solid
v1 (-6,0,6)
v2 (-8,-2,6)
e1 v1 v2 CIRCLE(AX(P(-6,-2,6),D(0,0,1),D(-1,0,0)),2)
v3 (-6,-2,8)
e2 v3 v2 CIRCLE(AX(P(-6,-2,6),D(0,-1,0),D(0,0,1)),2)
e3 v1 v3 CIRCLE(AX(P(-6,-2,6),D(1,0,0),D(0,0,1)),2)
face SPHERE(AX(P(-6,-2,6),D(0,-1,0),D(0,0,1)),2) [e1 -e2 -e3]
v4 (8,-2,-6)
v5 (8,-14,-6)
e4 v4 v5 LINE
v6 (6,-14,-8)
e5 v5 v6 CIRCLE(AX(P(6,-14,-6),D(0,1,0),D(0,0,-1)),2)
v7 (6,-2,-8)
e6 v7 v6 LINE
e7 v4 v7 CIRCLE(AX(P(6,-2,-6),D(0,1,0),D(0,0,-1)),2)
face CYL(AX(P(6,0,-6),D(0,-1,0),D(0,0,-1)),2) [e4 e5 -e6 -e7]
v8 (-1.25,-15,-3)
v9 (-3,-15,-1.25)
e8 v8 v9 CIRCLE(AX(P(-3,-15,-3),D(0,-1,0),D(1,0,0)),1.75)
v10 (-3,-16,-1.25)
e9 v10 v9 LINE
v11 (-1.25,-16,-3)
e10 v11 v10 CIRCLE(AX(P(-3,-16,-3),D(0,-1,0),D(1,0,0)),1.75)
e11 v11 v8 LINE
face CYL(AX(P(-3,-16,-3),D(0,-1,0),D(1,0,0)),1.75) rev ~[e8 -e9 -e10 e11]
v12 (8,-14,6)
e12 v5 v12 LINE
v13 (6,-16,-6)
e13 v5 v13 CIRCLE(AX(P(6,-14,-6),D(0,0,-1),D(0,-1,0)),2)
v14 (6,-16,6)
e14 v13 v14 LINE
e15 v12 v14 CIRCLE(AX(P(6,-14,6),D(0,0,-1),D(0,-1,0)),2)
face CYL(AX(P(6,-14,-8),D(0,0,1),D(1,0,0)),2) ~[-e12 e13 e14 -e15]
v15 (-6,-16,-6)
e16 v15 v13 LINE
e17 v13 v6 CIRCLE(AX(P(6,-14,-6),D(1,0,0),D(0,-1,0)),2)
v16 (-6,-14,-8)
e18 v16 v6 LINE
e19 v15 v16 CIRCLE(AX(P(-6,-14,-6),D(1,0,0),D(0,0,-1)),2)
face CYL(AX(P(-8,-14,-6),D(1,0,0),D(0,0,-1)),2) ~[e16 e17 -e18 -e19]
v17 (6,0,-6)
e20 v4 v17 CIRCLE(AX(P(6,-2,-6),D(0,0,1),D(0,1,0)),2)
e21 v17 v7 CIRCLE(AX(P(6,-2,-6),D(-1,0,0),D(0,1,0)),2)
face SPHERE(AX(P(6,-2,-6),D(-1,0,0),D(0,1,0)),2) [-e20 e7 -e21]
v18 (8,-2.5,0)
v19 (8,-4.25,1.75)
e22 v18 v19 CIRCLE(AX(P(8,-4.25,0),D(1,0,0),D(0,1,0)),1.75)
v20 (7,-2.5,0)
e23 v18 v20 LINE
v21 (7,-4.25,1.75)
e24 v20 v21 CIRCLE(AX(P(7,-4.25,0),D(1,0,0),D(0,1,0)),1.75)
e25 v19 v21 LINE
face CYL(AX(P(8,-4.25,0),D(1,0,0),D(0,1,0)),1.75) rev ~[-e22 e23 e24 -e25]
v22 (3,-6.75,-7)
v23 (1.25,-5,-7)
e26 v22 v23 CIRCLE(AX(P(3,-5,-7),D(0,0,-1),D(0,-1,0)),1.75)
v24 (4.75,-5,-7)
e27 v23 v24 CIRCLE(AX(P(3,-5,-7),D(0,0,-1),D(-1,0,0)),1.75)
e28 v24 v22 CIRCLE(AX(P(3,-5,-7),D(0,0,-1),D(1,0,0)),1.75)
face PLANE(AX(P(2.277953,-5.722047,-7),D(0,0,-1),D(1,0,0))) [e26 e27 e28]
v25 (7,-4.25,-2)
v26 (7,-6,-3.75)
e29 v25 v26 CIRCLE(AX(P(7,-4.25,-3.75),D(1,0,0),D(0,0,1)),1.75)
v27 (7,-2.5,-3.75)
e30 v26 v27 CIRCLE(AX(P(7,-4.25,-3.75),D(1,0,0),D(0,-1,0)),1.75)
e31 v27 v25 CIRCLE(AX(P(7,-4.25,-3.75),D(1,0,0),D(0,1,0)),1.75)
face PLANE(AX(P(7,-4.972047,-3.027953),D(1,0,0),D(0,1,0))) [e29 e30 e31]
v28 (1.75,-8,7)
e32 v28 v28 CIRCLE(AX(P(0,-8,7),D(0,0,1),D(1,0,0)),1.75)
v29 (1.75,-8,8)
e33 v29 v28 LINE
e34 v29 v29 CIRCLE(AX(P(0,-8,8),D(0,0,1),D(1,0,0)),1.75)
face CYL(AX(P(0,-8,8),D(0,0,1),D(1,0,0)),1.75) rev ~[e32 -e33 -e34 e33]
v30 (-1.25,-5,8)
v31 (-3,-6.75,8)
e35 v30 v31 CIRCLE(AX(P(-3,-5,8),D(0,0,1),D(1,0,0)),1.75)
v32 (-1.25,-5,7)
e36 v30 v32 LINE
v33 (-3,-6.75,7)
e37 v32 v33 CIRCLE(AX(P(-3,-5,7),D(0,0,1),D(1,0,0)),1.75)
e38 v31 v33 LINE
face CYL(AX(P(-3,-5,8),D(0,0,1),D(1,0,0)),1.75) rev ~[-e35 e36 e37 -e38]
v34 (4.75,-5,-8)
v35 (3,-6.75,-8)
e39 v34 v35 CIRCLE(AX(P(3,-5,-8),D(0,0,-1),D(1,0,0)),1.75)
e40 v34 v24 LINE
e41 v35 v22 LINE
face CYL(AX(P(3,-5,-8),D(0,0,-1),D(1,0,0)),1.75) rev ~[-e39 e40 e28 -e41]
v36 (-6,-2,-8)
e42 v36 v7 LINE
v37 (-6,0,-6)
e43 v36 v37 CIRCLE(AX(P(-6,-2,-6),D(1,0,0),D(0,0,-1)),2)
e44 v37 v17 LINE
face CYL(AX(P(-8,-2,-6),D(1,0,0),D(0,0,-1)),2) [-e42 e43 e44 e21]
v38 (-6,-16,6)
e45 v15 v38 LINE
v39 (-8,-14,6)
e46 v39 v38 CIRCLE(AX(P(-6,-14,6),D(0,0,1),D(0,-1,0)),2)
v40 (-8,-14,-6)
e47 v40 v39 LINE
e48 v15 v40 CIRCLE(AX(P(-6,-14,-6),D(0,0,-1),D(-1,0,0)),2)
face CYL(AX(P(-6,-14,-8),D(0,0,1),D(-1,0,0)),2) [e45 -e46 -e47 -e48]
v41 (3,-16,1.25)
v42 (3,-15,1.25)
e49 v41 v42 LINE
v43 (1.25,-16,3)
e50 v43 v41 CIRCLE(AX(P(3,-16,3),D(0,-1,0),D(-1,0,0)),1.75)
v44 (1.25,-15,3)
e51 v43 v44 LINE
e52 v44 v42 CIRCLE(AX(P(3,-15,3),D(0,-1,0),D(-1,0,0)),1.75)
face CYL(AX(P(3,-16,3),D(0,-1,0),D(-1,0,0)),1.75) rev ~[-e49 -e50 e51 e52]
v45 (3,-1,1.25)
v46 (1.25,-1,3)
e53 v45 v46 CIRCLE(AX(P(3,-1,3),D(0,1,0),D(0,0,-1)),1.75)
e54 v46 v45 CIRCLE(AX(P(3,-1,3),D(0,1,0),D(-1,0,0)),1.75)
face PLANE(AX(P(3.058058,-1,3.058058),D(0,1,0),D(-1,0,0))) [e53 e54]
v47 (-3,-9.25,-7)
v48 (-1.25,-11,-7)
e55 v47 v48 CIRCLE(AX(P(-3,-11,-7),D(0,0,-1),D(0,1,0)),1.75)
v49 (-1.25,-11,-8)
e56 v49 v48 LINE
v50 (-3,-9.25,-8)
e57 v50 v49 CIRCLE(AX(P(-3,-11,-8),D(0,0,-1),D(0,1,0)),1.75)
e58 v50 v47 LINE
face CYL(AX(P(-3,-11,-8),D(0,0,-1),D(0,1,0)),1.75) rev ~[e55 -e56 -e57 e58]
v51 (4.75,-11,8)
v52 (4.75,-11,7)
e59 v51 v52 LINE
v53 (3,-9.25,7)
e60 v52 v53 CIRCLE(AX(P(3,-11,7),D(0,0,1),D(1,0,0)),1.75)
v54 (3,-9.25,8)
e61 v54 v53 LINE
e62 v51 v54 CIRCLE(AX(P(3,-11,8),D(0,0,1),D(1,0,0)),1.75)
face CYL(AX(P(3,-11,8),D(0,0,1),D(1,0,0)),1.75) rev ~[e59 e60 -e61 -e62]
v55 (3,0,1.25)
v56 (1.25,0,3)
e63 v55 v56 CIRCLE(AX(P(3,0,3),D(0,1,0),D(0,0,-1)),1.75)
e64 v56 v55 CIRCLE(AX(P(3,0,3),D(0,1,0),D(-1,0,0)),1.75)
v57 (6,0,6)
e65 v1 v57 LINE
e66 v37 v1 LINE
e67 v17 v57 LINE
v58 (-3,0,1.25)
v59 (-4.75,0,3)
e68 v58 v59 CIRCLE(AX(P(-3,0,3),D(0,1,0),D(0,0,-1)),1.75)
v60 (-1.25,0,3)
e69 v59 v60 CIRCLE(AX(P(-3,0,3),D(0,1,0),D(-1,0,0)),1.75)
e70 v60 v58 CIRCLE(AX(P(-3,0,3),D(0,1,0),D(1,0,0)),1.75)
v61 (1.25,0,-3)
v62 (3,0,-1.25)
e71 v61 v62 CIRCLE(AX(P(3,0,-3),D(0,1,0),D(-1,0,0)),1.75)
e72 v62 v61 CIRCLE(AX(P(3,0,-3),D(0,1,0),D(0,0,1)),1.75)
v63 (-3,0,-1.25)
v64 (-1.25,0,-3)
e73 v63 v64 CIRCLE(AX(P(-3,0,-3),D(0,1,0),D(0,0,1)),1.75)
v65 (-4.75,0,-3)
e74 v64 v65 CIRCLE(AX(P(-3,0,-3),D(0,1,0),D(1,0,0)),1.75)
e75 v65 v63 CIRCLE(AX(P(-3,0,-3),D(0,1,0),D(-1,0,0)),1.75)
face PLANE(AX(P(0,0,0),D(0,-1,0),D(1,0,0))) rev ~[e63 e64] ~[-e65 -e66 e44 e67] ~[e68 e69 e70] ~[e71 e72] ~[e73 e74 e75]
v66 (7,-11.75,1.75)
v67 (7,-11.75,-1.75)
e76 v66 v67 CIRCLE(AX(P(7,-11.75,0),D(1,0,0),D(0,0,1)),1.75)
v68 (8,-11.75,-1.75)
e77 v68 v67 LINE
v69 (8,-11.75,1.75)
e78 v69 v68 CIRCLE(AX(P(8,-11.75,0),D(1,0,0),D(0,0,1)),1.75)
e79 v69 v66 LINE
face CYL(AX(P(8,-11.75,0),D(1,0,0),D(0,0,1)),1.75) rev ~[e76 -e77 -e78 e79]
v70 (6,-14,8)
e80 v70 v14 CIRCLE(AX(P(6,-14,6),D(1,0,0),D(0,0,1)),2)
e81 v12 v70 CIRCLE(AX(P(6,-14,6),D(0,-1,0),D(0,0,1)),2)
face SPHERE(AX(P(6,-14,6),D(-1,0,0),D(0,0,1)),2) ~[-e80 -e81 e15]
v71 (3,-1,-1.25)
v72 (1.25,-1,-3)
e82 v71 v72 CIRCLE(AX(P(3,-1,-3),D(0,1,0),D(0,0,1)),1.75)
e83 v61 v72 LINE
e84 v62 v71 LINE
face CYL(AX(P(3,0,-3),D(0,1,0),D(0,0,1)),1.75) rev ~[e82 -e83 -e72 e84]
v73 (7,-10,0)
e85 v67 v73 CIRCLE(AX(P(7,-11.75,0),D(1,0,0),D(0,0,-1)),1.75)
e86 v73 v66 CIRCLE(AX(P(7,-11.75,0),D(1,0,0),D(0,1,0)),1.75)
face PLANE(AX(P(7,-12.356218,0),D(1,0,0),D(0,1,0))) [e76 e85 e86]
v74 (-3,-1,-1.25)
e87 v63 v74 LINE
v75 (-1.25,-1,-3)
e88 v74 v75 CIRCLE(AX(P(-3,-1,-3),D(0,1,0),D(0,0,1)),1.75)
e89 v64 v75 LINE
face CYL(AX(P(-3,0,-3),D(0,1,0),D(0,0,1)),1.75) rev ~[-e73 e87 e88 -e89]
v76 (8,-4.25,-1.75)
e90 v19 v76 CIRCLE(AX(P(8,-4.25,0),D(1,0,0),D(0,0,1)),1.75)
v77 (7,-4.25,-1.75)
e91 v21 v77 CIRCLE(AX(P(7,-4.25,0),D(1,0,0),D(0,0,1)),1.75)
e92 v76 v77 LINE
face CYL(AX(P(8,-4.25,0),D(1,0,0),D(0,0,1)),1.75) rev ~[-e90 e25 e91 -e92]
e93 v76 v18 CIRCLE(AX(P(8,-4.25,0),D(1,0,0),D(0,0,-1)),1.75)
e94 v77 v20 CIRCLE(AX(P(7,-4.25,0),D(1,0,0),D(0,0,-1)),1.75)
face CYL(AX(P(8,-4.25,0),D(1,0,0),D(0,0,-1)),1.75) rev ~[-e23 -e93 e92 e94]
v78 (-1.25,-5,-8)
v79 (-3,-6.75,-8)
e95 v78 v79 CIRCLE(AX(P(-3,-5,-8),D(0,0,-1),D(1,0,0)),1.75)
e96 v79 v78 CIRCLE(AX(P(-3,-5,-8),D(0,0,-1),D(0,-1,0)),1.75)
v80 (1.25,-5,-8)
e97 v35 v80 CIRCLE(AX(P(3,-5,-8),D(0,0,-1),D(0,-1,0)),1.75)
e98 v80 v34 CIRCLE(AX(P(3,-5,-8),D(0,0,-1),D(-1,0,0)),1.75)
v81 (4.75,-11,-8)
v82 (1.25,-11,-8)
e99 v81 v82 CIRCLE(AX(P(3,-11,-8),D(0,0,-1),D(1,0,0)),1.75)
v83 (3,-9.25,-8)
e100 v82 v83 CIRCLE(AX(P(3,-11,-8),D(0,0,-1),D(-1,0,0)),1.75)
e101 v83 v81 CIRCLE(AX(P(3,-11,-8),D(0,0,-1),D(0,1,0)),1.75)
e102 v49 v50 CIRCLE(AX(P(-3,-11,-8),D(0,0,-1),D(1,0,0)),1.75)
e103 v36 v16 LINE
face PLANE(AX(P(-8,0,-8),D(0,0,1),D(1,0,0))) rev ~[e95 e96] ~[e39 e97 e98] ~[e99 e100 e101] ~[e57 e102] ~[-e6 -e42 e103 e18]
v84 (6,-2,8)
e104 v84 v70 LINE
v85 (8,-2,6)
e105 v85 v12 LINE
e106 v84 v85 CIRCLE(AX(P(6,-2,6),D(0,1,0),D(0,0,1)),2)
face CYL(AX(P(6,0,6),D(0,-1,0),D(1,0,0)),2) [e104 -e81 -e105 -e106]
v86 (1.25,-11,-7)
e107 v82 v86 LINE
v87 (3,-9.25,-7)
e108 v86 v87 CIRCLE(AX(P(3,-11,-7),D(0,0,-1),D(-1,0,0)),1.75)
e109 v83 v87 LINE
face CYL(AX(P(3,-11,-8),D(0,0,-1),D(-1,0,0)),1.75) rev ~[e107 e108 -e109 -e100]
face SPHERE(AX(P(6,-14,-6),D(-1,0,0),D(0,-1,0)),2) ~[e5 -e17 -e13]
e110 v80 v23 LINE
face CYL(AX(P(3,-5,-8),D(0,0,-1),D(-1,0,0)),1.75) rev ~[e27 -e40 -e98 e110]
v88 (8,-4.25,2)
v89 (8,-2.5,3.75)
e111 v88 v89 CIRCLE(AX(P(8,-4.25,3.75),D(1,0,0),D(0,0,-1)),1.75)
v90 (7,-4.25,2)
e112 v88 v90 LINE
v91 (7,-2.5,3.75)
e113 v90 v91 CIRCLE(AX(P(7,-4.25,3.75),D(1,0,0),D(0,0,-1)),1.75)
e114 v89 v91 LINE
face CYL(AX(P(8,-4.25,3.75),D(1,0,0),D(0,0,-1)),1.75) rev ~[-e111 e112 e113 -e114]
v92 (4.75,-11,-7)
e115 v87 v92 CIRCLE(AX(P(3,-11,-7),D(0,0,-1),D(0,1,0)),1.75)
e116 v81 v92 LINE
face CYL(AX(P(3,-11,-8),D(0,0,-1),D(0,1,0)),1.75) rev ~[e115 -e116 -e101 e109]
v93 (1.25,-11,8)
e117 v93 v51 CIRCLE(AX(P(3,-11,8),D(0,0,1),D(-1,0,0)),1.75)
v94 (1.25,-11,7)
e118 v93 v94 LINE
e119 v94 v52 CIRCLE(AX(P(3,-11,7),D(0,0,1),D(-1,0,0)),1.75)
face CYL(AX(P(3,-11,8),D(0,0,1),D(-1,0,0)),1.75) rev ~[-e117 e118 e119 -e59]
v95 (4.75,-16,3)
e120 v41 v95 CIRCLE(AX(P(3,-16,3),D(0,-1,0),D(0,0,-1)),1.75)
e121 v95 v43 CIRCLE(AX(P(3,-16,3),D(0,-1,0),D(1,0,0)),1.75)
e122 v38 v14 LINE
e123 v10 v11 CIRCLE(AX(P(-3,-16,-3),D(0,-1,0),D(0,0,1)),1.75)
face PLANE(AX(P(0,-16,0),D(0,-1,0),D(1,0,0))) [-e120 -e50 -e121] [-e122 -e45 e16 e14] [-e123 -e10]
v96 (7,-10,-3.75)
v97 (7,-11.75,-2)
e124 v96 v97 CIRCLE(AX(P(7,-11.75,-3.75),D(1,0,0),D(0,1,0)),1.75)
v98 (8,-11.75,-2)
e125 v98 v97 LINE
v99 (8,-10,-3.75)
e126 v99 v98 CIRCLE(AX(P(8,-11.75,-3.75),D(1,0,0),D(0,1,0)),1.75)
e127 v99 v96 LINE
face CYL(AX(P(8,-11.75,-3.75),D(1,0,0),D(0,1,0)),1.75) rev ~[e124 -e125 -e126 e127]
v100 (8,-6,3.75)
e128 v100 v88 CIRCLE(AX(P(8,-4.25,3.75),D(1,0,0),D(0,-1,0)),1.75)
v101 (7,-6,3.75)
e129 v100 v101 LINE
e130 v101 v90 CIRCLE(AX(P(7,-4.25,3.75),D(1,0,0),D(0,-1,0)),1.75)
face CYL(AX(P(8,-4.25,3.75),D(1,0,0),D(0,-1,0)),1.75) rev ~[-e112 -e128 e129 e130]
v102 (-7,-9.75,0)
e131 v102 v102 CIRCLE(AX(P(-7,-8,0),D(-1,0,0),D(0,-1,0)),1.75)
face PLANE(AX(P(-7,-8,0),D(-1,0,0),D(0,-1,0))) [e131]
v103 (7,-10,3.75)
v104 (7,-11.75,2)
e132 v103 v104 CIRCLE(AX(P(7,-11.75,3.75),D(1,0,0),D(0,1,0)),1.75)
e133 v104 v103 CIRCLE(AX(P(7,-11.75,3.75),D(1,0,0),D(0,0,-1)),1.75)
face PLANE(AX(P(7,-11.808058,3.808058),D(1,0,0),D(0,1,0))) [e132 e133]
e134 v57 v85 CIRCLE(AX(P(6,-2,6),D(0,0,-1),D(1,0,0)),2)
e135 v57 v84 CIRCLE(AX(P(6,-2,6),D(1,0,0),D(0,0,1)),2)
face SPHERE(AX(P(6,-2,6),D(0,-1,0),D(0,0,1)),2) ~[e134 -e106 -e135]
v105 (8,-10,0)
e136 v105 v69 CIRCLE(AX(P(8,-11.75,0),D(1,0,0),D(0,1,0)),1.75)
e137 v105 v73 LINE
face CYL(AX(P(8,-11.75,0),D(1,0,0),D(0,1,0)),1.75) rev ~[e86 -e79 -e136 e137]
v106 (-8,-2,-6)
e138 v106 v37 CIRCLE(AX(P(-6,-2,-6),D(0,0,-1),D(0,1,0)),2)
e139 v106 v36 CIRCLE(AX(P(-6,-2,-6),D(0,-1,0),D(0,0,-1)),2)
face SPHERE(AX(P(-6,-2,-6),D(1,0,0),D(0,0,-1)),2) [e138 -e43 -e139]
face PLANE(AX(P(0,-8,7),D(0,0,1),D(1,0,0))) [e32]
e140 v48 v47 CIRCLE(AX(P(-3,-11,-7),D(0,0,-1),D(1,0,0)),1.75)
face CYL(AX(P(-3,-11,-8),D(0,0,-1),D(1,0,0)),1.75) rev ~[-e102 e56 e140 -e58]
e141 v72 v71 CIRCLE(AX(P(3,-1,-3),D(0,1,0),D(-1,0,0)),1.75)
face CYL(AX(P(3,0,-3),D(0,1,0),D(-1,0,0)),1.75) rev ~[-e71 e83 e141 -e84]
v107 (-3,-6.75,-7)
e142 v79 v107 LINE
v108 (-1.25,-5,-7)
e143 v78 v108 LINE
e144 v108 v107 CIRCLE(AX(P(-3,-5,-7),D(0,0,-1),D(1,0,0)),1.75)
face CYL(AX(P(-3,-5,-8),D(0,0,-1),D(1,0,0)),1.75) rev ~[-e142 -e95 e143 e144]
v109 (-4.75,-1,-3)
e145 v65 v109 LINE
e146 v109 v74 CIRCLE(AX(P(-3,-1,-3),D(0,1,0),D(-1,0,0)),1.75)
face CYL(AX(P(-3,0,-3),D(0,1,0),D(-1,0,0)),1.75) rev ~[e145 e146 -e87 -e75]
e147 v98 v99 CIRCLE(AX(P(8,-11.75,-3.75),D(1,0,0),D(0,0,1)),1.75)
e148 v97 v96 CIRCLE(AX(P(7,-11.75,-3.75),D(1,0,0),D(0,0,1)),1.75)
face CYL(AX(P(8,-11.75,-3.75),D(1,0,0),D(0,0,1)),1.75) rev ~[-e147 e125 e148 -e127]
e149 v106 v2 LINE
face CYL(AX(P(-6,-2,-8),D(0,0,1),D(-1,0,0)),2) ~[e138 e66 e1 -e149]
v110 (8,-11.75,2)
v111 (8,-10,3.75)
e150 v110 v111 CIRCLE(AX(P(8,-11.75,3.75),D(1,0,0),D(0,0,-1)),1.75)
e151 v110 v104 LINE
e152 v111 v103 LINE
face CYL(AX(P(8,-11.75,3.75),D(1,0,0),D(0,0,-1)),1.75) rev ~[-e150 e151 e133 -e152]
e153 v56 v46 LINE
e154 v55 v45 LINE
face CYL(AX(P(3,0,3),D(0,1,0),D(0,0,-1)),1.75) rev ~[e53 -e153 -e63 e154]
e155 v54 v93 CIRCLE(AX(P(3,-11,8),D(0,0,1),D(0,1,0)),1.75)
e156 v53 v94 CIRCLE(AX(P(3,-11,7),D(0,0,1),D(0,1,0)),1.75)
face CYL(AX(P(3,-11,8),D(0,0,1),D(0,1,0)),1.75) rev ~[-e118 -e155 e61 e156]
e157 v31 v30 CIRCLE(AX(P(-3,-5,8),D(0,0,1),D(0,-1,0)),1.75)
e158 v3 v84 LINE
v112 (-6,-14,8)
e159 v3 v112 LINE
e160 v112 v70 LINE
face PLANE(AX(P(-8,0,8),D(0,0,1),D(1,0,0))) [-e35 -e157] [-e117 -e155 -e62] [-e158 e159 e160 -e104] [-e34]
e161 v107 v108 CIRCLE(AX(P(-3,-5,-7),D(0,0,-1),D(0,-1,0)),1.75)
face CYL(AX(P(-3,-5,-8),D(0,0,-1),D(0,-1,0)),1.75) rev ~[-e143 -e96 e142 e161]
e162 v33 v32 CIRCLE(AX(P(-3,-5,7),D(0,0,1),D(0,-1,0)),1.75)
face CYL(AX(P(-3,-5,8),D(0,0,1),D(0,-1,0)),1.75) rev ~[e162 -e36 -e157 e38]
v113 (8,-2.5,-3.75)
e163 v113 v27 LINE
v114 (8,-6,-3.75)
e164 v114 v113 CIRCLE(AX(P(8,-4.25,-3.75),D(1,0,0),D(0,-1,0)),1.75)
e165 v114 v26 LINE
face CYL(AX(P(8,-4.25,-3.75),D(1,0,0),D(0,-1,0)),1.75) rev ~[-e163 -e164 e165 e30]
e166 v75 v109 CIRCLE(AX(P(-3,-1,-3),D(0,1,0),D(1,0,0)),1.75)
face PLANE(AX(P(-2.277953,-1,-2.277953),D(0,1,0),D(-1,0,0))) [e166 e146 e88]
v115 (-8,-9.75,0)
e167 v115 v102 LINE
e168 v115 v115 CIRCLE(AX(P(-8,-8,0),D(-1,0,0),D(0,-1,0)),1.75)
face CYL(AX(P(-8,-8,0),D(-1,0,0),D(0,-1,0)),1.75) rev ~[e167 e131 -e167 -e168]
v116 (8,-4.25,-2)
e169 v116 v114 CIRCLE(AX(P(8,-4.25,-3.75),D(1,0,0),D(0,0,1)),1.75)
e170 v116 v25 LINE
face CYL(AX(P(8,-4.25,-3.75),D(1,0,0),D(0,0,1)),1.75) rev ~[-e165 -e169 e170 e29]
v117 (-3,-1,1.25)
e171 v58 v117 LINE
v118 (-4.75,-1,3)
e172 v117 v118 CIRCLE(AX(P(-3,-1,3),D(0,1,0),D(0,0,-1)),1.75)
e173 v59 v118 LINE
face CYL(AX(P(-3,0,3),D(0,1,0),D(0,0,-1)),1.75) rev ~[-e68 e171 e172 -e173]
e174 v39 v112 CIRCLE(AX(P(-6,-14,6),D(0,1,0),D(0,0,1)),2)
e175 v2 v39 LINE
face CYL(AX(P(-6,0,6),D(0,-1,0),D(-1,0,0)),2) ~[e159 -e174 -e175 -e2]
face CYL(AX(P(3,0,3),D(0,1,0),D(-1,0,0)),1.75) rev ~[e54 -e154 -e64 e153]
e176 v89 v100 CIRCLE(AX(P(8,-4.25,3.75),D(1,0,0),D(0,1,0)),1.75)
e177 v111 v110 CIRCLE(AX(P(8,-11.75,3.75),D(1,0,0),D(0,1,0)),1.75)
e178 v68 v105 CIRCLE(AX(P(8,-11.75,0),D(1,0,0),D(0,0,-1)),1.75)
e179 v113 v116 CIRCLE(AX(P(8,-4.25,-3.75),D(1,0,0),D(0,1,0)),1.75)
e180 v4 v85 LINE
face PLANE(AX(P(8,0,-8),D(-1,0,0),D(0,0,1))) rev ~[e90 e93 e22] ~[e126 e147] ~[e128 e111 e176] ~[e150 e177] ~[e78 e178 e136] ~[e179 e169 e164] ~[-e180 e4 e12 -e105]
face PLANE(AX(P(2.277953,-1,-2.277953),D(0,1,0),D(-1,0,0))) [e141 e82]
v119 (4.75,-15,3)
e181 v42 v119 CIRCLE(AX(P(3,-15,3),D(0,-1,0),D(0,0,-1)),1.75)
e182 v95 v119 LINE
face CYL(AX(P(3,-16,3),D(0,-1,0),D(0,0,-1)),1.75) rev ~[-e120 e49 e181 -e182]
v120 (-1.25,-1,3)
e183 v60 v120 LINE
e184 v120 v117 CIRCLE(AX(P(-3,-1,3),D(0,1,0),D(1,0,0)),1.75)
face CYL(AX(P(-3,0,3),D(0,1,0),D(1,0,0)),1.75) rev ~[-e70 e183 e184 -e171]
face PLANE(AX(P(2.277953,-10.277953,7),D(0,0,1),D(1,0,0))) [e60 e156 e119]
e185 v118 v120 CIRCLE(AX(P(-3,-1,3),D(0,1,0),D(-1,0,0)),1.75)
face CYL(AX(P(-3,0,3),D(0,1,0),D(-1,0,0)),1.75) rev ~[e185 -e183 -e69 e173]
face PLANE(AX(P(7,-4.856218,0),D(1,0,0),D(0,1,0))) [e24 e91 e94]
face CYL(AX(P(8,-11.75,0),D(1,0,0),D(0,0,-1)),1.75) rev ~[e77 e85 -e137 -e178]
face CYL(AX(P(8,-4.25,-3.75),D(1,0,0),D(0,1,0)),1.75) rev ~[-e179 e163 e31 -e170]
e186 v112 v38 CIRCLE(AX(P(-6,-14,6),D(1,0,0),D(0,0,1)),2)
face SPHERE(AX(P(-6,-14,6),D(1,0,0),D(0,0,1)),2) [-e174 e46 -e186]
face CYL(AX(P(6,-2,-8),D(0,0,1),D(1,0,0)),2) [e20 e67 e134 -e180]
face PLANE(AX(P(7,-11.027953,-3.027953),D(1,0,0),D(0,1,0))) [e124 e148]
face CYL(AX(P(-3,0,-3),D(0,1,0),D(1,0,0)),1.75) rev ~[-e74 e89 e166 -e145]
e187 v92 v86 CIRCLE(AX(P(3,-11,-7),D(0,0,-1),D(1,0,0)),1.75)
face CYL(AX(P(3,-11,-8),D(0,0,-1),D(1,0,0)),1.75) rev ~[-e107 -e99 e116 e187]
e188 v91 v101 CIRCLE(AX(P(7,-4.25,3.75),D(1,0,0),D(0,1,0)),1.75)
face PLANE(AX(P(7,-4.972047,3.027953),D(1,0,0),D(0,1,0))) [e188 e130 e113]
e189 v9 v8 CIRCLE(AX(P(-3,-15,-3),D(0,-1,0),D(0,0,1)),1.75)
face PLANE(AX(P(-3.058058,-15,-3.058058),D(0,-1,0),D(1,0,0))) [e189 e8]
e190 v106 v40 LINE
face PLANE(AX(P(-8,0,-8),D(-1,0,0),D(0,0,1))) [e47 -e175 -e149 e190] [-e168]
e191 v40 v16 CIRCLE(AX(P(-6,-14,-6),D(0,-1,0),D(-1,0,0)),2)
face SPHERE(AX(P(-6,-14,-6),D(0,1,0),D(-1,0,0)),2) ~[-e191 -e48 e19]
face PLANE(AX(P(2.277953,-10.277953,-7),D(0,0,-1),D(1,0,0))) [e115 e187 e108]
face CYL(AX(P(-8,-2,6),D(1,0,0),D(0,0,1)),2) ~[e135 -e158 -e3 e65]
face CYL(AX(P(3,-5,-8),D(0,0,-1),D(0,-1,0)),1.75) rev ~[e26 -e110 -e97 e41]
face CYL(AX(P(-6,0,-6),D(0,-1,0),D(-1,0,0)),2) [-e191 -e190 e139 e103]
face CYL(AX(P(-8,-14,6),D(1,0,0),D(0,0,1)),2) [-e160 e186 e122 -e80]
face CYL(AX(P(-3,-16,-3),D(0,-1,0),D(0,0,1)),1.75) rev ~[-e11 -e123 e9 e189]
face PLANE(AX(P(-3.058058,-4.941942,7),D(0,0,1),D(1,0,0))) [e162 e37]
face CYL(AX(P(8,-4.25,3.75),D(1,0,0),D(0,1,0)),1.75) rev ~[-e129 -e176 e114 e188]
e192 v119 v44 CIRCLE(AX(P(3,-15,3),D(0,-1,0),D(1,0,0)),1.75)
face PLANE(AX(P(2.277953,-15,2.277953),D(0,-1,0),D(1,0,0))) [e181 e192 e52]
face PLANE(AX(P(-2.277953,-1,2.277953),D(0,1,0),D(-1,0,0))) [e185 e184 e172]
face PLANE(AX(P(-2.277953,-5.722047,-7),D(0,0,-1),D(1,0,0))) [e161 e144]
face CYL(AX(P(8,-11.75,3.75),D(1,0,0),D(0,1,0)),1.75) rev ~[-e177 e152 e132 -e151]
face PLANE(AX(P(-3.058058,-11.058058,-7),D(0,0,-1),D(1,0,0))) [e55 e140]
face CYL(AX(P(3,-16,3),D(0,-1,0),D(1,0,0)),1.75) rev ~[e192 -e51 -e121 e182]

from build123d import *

# Parameters (mm, degrees)
F0_W      = 16
F0_H      = 16
F1_DEPTH  = 16
F2_R      = 2
F4_DEPTH  = 1
F5_R      = 1.75
F6_DEPTH  = 1
F8_DEPTH  = 1
F10_DEPTH = 1
F11_R     = 1.75
F12_DEPTH = 1
F14_DEPTH = 1


with BuildPart() as f1:
    # F0 (on Front) → F1 (new body)
    with BuildSketch(Plane.XZ):
        Rectangle(F0_W, F0_H)
    extrude(amount=F1_DEPTH)

    # F2
    f2_edges = [f1.edges().sort_by_distance(p)[0] for p in [
        (0, -16, 8),
        (-8, -8, 8),
        (8, -8, 8),
        (0, 0, 8),
        (0, 0, -8),
        (8, 0, 0),
        (-8, -8, -8),
        (-8, -16, 0),
        (-8, 0, 0),
        (0, -16, -8),
        (8, -16, 0),
        (8, -8, -8),
    ]]
    fillet(f2_edges, radius=F2_R)

    # F3 (on face) → F4 (cut)
    with BuildSketch(Plane.XZ.offset(16)):
        with BuildLine():
            Line((3, 1.25), (3, 3))
            Line((3, 3), (1.25, 3))
            ThreePointArc((1.25, 3), (1.7625631329, 1.7625631329), (3, 1.25))
        make_face()
        with BuildLine():
            Line((-3, -3), (-3, -1.25))
            ThreePointArc((-3, -1.25), (-4.2374368671, -4.2374368671), (-1.25, -3))
            Line((-1.25, -3), (-3, -3))
        make_face()
        with BuildLine():
            ThreePointArc((-1.25, -3), (-1.7625631329, -1.7625631329), (-3, -1.25))
            Line((-3, -1.25), (-3, -3))
            Line((-3, -3), (-1.25, -3))
        make_face()
        with BuildLine():
            Line((1.25, 3), (3, 3))
            Line((3, 3), (3, 1.25))
            ThreePointArc((3, 1.25), (4.2374368671, 1.7625631329), (4.75, 3))
            ThreePointArc((4.75, 3), (3, 4.75), (1.25, 3))
        make_face()
    extrude(amount=-F4_DEPTH, mode=Mode.SUBTRACT)

    # F5 (on face) → F6 (cut)
    with BuildSketch(Plane.XY.offset(8)):
        with BuildLine():
            Line((-3, -5), (-1.25, -5))
            ThreePointArc((-1.25, -5), (-4.2374368671, -3.7625631329), (-3, -6.75))
            Line((-3, -6.75), (-3, -5))
        make_face()
        with BuildLine():
            ThreePointArc((-3, -6.75), (-1.7625631329, -6.2374368671), (-1.25, -5))
            Line((-1.25, -5), (-3, -5))
            Line((-3, -5), (-3, -6.75))
        make_face()
        with BuildLine():
            Line((3, -11), (3, -9.25))
            ThreePointArc((3, -9.25), (1.7625631329, -9.7625631329), (1.25, -11))
            Line((1.25, -11), (3, -11))
        make_face()
        with BuildLine():
            ThreePointArc((4.75, -11), (4.2374368671, -9.7625631329), (3, -9.25))
            Line((3, -9.25), (3, -11))
            Line((3, -11), (1.25, -11))
            ThreePointArc((1.25, -11), (3, -12.75), (4.75, -11))
        make_face()
        with Locations((0, -8)):
            Circle(F5_R)
    extrude(amount=-F6_DEPTH, mode=Mode.SUBTRACT)

    # F7 (on face) → F8 (cut)
    with BuildSketch(Plane.YZ.offset(8)):
        with BuildLine():
            Line((-4.25, 3.75), (-6, 3.75))
            ThreePointArc((-6, 3.75), (-5.4874368671, 2.5125631329), (-4.25, 2))
            Line((-4.25, 2), (-4.25, 3.75))
        make_face()
        with BuildLine():
            ThreePointArc((-2.5, 3.75), (-4.25, 5.5), (-6, 3.75))
            Line((-6, 3.75), (-4.25, 3.75))
            Line((-4.25, 3.75), (-4.25, 2))
            ThreePointArc((-4.25, 2), (-3.0125631329, 2.5125631329), (-2.5, 3.75))
        make_face()
        with BuildLine():
            Line((-11.75, 3.75), (-10, 3.75))
            ThreePointArc((-10, 3.75), (-12.9874368671, 4.9874368671), (-11.75, 2))
            Line((-11.75, 2), (-11.75, 3.75))
        make_face()
        with BuildLine():
            ThreePointArc((-11.75, 2), (-10.5125631329, 2.5125631329), (-10, 3.75))
            Line((-10, 3.75), (-11.75, 3.75))
            Line((-11.75, 3.75), (-11.75, 2))
        make_face()
        with BuildLine():
            Line((-4.25, -3.75), (-4.25, -2))
            ThreePointArc((-4.25, -2), (-5.4874368671, -2.5125631329), (-6, -3.75))
            Line((-6, -3.75), (-4.25, -3.75))
        make_face()
        with BuildLine():
            ThreePointArc((-2.5, -3.75), (-3.0125631329, -2.5125631329), (-4.25, -2))
            Line((-4.25, -2), (-4.25, -3.75))
            Line((-4.25, -3.75), (-6, -3.75))
            ThreePointArc((-6, -3.75), (-4.25, -5.5), (-2.5, -3.75))
        make_face()
        with BuildLine():
            ThreePointArc((-10, -3.75), (-10.5125631329, -2.5125631329), (-11.75, -2))
            Line((-11.75, -2), (-11.75, -3.75))
            Line((-11.75, -3.75), (-10, -3.75))
        make_face()
        with BuildLine():
            Line((-11.75, -3.75), (-11.75, -2))
            ThreePointArc((-11.75, -2), (-12.9874368671, -4.9874368671), (-10, -3.75))
            Line((-10, -3.75), (-11.75, -3.75))
        make_face()
        with BuildLine():
            Line((-4.25, -1.75), (-4.25, 1.75))
            ThreePointArc((-4.25, 1.75), (-6, 0), (-4.25, -1.75))
        make_face()
        with BuildLine():
            ThreePointArc((-2.5, 0), (-3.0125631329, 1.2374368671), (-4.25, 1.75))
            Line((-4.25, 1.75), (-4.25, -1.75))
            ThreePointArc((-4.25, -1.75), (-3.0125631329, -1.2374368671), (-2.5, 0))
        make_face()
        with BuildLine():
            Line((-11.75, -1.75), (-11.75, 1.75))
            ThreePointArc((-11.75, 1.75), (-13.5, 0), (-11.75, -1.75))
        make_face()
        with BuildLine():
            ThreePointArc((-10, 0), (-10.5125631329, 1.2374368671), (-11.75, 1.75))
            Line((-11.75, 1.75), (-11.75, -1.75))
            ThreePointArc((-11.75, -1.75), (-10.5125631329, -1.2374368671), (-10, 0))
        make_face()
    extrude(amount=-F8_DEPTH, mode=Mode.SUBTRACT)

    # F9 (on face) → F10 (cut)
    with BuildSketch(Plane(origin=(0, 0, -8), x_dir=(1, 0, 0), z_dir=(0, 0, -1))):
        with BuildLine():
            Line((3, 11), (1.25, 11))
            ThreePointArc((1.25, 11), (1.7625631329, 9.7625631329), (3, 9.25))
            Line((3, 9.25), (3, 11))
        make_face()
        with BuildLine():
            ThreePointArc((4.75, 11), (3, 12.75), (1.25, 11))
            Line((1.25, 11), (3, 11))
            Line((3, 11), (3, 9.25))
            ThreePointArc((3, 9.25), (4.2374368671, 9.7625631329), (4.75, 11))
        make_face()
        with BuildLine():
            Line((-3, 11), (-1.25, 11))
            ThreePointArc((-1.25, 11), (-4.2374368671, 12.2374368671), (-3, 9.25))
            Line((-3, 9.25), (-3, 11))
        make_face()
        with BuildLine():
            ThreePointArc((-3, 9.25), (-1.7625631329, 9.7625631329), (-1.25, 11))
            Line((-1.25, 11), (-3, 11))
            Line((-3, 11), (-3, 9.25))
        make_face()
        with BuildLine():
            Line((3, 5), (3, 6.75))
            ThreePointArc((3, 6.75), (1.7625631329, 6.2374368671), (1.25, 5))
            Line((1.25, 5), (3, 5))
        make_face()
        with BuildLine():
            ThreePointArc((4.75, 5), (4.2374368671, 6.2374368671), (3, 6.75))
            Line((3, 6.75), (3, 5))
            Line((3, 5), (1.25, 5))
            ThreePointArc((1.25, 5), (3, 3.25), (4.75, 5))
        make_face()
        with BuildLine():
            ThreePointArc((-1.25, 5), (-1.7625631329, 6.2374368671), (-3, 6.75))
            Line((-3, 6.75), (-3, 5))
            Line((-3, 5), (-1.25, 5))
        make_face()
        with BuildLine():
            Line((-3, 5), (-3, 6.75))
            ThreePointArc((-3, 6.75), (-4.2374368671, 3.7625631329), (-1.25, 5))
            Line((-1.25, 5), (-3, 5))
        make_face()
    extrude(amount=-F10_DEPTH, mode=Mode.SUBTRACT)

    # F11 (on face) → F12 (cut)
    with BuildSketch(Plane(origin=(-8, 0, 0), x_dir=(0, -1, 0), z_dir=(-1, 0, 0))):
        with Locations((8, 0)):
            Circle(F11_R)
    extrude(amount=-F12_DEPTH, mode=Mode.SUBTRACT)

    # F13 (on face) → F14 (cut)
    with BuildSketch(Plane(origin=(0, 0, 0), x_dir=(-1, 0, 0), z_dir=(0, 1, 0))):
        with BuildLine():
            Line((3, 3), (1.25, 3))
            ThreePointArc((1.25, 3), (1.7625631329, 1.7625631329), (3, 1.25))
            Line((3, 1.25), (3, 3))
        make_face()
        with BuildLine():
            ThreePointArc((4.75, 3), (3, 4.75), (1.25, 3))
            Line((1.25, 3), (3, 3))
            Line((3, 3), (3, 1.25))
            ThreePointArc((3, 1.25), (4.2374368671, 1.7625631329), (4.75, 3))
        make_face()
        with BuildLine():
            Line((-3, 3), (-1.25, 3))
            ThreePointArc((-1.25, 3), (-4.2374368671, 4.2374368671), (-3, 1.25))
            Line((-3, 1.25), (-3, 3))
        make_face()
        with BuildLine():
            ThreePointArc((-3, 1.25), (-1.7625631329, 1.7625631329), (-1.25, 3))
            Line((-1.25, 3), (-3, 3))
            Line((-3, 3), (-3, 1.25))
        make_face()
        with BuildLine():
            Line((3, -3), (3, -1.25))
            ThreePointArc((3, -1.25), (1.7625631329, -1.7625631329), (1.25, -3))
            Line((1.25, -3), (3, -3))
        make_face()
        with BuildLine():
            ThreePointArc((4.75, -3), (4.2374368671, -1.7625631329), (3, -1.25))
            Line((3, -1.25), (3, -3))
            Line((3, -3), (1.25, -3))
            ThreePointArc((1.25, -3), (3, -4.75), (4.75, -3))
        make_face()
        with BuildLine():
            ThreePointArc((-1.25, -3), (-1.7625631329, -1.7625631329), (-3, -1.25))
            Line((-3, -1.25), (-3, -3))
            Line((-3, -3), (-1.25, -3))
        make_face()
        with BuildLine():
            Line((-3, -3), (-3, -1.25))
            ThreePointArc((-3, -1.25), (-4.2374368671, -4.2374368671), (-1.25, -3))
            Line((-1.25, -3), (-3, -3))
        make_face()
    extrude(amount=-F14_DEPTH, mode=Mode.SUBTRACT)


solid = f1.part
